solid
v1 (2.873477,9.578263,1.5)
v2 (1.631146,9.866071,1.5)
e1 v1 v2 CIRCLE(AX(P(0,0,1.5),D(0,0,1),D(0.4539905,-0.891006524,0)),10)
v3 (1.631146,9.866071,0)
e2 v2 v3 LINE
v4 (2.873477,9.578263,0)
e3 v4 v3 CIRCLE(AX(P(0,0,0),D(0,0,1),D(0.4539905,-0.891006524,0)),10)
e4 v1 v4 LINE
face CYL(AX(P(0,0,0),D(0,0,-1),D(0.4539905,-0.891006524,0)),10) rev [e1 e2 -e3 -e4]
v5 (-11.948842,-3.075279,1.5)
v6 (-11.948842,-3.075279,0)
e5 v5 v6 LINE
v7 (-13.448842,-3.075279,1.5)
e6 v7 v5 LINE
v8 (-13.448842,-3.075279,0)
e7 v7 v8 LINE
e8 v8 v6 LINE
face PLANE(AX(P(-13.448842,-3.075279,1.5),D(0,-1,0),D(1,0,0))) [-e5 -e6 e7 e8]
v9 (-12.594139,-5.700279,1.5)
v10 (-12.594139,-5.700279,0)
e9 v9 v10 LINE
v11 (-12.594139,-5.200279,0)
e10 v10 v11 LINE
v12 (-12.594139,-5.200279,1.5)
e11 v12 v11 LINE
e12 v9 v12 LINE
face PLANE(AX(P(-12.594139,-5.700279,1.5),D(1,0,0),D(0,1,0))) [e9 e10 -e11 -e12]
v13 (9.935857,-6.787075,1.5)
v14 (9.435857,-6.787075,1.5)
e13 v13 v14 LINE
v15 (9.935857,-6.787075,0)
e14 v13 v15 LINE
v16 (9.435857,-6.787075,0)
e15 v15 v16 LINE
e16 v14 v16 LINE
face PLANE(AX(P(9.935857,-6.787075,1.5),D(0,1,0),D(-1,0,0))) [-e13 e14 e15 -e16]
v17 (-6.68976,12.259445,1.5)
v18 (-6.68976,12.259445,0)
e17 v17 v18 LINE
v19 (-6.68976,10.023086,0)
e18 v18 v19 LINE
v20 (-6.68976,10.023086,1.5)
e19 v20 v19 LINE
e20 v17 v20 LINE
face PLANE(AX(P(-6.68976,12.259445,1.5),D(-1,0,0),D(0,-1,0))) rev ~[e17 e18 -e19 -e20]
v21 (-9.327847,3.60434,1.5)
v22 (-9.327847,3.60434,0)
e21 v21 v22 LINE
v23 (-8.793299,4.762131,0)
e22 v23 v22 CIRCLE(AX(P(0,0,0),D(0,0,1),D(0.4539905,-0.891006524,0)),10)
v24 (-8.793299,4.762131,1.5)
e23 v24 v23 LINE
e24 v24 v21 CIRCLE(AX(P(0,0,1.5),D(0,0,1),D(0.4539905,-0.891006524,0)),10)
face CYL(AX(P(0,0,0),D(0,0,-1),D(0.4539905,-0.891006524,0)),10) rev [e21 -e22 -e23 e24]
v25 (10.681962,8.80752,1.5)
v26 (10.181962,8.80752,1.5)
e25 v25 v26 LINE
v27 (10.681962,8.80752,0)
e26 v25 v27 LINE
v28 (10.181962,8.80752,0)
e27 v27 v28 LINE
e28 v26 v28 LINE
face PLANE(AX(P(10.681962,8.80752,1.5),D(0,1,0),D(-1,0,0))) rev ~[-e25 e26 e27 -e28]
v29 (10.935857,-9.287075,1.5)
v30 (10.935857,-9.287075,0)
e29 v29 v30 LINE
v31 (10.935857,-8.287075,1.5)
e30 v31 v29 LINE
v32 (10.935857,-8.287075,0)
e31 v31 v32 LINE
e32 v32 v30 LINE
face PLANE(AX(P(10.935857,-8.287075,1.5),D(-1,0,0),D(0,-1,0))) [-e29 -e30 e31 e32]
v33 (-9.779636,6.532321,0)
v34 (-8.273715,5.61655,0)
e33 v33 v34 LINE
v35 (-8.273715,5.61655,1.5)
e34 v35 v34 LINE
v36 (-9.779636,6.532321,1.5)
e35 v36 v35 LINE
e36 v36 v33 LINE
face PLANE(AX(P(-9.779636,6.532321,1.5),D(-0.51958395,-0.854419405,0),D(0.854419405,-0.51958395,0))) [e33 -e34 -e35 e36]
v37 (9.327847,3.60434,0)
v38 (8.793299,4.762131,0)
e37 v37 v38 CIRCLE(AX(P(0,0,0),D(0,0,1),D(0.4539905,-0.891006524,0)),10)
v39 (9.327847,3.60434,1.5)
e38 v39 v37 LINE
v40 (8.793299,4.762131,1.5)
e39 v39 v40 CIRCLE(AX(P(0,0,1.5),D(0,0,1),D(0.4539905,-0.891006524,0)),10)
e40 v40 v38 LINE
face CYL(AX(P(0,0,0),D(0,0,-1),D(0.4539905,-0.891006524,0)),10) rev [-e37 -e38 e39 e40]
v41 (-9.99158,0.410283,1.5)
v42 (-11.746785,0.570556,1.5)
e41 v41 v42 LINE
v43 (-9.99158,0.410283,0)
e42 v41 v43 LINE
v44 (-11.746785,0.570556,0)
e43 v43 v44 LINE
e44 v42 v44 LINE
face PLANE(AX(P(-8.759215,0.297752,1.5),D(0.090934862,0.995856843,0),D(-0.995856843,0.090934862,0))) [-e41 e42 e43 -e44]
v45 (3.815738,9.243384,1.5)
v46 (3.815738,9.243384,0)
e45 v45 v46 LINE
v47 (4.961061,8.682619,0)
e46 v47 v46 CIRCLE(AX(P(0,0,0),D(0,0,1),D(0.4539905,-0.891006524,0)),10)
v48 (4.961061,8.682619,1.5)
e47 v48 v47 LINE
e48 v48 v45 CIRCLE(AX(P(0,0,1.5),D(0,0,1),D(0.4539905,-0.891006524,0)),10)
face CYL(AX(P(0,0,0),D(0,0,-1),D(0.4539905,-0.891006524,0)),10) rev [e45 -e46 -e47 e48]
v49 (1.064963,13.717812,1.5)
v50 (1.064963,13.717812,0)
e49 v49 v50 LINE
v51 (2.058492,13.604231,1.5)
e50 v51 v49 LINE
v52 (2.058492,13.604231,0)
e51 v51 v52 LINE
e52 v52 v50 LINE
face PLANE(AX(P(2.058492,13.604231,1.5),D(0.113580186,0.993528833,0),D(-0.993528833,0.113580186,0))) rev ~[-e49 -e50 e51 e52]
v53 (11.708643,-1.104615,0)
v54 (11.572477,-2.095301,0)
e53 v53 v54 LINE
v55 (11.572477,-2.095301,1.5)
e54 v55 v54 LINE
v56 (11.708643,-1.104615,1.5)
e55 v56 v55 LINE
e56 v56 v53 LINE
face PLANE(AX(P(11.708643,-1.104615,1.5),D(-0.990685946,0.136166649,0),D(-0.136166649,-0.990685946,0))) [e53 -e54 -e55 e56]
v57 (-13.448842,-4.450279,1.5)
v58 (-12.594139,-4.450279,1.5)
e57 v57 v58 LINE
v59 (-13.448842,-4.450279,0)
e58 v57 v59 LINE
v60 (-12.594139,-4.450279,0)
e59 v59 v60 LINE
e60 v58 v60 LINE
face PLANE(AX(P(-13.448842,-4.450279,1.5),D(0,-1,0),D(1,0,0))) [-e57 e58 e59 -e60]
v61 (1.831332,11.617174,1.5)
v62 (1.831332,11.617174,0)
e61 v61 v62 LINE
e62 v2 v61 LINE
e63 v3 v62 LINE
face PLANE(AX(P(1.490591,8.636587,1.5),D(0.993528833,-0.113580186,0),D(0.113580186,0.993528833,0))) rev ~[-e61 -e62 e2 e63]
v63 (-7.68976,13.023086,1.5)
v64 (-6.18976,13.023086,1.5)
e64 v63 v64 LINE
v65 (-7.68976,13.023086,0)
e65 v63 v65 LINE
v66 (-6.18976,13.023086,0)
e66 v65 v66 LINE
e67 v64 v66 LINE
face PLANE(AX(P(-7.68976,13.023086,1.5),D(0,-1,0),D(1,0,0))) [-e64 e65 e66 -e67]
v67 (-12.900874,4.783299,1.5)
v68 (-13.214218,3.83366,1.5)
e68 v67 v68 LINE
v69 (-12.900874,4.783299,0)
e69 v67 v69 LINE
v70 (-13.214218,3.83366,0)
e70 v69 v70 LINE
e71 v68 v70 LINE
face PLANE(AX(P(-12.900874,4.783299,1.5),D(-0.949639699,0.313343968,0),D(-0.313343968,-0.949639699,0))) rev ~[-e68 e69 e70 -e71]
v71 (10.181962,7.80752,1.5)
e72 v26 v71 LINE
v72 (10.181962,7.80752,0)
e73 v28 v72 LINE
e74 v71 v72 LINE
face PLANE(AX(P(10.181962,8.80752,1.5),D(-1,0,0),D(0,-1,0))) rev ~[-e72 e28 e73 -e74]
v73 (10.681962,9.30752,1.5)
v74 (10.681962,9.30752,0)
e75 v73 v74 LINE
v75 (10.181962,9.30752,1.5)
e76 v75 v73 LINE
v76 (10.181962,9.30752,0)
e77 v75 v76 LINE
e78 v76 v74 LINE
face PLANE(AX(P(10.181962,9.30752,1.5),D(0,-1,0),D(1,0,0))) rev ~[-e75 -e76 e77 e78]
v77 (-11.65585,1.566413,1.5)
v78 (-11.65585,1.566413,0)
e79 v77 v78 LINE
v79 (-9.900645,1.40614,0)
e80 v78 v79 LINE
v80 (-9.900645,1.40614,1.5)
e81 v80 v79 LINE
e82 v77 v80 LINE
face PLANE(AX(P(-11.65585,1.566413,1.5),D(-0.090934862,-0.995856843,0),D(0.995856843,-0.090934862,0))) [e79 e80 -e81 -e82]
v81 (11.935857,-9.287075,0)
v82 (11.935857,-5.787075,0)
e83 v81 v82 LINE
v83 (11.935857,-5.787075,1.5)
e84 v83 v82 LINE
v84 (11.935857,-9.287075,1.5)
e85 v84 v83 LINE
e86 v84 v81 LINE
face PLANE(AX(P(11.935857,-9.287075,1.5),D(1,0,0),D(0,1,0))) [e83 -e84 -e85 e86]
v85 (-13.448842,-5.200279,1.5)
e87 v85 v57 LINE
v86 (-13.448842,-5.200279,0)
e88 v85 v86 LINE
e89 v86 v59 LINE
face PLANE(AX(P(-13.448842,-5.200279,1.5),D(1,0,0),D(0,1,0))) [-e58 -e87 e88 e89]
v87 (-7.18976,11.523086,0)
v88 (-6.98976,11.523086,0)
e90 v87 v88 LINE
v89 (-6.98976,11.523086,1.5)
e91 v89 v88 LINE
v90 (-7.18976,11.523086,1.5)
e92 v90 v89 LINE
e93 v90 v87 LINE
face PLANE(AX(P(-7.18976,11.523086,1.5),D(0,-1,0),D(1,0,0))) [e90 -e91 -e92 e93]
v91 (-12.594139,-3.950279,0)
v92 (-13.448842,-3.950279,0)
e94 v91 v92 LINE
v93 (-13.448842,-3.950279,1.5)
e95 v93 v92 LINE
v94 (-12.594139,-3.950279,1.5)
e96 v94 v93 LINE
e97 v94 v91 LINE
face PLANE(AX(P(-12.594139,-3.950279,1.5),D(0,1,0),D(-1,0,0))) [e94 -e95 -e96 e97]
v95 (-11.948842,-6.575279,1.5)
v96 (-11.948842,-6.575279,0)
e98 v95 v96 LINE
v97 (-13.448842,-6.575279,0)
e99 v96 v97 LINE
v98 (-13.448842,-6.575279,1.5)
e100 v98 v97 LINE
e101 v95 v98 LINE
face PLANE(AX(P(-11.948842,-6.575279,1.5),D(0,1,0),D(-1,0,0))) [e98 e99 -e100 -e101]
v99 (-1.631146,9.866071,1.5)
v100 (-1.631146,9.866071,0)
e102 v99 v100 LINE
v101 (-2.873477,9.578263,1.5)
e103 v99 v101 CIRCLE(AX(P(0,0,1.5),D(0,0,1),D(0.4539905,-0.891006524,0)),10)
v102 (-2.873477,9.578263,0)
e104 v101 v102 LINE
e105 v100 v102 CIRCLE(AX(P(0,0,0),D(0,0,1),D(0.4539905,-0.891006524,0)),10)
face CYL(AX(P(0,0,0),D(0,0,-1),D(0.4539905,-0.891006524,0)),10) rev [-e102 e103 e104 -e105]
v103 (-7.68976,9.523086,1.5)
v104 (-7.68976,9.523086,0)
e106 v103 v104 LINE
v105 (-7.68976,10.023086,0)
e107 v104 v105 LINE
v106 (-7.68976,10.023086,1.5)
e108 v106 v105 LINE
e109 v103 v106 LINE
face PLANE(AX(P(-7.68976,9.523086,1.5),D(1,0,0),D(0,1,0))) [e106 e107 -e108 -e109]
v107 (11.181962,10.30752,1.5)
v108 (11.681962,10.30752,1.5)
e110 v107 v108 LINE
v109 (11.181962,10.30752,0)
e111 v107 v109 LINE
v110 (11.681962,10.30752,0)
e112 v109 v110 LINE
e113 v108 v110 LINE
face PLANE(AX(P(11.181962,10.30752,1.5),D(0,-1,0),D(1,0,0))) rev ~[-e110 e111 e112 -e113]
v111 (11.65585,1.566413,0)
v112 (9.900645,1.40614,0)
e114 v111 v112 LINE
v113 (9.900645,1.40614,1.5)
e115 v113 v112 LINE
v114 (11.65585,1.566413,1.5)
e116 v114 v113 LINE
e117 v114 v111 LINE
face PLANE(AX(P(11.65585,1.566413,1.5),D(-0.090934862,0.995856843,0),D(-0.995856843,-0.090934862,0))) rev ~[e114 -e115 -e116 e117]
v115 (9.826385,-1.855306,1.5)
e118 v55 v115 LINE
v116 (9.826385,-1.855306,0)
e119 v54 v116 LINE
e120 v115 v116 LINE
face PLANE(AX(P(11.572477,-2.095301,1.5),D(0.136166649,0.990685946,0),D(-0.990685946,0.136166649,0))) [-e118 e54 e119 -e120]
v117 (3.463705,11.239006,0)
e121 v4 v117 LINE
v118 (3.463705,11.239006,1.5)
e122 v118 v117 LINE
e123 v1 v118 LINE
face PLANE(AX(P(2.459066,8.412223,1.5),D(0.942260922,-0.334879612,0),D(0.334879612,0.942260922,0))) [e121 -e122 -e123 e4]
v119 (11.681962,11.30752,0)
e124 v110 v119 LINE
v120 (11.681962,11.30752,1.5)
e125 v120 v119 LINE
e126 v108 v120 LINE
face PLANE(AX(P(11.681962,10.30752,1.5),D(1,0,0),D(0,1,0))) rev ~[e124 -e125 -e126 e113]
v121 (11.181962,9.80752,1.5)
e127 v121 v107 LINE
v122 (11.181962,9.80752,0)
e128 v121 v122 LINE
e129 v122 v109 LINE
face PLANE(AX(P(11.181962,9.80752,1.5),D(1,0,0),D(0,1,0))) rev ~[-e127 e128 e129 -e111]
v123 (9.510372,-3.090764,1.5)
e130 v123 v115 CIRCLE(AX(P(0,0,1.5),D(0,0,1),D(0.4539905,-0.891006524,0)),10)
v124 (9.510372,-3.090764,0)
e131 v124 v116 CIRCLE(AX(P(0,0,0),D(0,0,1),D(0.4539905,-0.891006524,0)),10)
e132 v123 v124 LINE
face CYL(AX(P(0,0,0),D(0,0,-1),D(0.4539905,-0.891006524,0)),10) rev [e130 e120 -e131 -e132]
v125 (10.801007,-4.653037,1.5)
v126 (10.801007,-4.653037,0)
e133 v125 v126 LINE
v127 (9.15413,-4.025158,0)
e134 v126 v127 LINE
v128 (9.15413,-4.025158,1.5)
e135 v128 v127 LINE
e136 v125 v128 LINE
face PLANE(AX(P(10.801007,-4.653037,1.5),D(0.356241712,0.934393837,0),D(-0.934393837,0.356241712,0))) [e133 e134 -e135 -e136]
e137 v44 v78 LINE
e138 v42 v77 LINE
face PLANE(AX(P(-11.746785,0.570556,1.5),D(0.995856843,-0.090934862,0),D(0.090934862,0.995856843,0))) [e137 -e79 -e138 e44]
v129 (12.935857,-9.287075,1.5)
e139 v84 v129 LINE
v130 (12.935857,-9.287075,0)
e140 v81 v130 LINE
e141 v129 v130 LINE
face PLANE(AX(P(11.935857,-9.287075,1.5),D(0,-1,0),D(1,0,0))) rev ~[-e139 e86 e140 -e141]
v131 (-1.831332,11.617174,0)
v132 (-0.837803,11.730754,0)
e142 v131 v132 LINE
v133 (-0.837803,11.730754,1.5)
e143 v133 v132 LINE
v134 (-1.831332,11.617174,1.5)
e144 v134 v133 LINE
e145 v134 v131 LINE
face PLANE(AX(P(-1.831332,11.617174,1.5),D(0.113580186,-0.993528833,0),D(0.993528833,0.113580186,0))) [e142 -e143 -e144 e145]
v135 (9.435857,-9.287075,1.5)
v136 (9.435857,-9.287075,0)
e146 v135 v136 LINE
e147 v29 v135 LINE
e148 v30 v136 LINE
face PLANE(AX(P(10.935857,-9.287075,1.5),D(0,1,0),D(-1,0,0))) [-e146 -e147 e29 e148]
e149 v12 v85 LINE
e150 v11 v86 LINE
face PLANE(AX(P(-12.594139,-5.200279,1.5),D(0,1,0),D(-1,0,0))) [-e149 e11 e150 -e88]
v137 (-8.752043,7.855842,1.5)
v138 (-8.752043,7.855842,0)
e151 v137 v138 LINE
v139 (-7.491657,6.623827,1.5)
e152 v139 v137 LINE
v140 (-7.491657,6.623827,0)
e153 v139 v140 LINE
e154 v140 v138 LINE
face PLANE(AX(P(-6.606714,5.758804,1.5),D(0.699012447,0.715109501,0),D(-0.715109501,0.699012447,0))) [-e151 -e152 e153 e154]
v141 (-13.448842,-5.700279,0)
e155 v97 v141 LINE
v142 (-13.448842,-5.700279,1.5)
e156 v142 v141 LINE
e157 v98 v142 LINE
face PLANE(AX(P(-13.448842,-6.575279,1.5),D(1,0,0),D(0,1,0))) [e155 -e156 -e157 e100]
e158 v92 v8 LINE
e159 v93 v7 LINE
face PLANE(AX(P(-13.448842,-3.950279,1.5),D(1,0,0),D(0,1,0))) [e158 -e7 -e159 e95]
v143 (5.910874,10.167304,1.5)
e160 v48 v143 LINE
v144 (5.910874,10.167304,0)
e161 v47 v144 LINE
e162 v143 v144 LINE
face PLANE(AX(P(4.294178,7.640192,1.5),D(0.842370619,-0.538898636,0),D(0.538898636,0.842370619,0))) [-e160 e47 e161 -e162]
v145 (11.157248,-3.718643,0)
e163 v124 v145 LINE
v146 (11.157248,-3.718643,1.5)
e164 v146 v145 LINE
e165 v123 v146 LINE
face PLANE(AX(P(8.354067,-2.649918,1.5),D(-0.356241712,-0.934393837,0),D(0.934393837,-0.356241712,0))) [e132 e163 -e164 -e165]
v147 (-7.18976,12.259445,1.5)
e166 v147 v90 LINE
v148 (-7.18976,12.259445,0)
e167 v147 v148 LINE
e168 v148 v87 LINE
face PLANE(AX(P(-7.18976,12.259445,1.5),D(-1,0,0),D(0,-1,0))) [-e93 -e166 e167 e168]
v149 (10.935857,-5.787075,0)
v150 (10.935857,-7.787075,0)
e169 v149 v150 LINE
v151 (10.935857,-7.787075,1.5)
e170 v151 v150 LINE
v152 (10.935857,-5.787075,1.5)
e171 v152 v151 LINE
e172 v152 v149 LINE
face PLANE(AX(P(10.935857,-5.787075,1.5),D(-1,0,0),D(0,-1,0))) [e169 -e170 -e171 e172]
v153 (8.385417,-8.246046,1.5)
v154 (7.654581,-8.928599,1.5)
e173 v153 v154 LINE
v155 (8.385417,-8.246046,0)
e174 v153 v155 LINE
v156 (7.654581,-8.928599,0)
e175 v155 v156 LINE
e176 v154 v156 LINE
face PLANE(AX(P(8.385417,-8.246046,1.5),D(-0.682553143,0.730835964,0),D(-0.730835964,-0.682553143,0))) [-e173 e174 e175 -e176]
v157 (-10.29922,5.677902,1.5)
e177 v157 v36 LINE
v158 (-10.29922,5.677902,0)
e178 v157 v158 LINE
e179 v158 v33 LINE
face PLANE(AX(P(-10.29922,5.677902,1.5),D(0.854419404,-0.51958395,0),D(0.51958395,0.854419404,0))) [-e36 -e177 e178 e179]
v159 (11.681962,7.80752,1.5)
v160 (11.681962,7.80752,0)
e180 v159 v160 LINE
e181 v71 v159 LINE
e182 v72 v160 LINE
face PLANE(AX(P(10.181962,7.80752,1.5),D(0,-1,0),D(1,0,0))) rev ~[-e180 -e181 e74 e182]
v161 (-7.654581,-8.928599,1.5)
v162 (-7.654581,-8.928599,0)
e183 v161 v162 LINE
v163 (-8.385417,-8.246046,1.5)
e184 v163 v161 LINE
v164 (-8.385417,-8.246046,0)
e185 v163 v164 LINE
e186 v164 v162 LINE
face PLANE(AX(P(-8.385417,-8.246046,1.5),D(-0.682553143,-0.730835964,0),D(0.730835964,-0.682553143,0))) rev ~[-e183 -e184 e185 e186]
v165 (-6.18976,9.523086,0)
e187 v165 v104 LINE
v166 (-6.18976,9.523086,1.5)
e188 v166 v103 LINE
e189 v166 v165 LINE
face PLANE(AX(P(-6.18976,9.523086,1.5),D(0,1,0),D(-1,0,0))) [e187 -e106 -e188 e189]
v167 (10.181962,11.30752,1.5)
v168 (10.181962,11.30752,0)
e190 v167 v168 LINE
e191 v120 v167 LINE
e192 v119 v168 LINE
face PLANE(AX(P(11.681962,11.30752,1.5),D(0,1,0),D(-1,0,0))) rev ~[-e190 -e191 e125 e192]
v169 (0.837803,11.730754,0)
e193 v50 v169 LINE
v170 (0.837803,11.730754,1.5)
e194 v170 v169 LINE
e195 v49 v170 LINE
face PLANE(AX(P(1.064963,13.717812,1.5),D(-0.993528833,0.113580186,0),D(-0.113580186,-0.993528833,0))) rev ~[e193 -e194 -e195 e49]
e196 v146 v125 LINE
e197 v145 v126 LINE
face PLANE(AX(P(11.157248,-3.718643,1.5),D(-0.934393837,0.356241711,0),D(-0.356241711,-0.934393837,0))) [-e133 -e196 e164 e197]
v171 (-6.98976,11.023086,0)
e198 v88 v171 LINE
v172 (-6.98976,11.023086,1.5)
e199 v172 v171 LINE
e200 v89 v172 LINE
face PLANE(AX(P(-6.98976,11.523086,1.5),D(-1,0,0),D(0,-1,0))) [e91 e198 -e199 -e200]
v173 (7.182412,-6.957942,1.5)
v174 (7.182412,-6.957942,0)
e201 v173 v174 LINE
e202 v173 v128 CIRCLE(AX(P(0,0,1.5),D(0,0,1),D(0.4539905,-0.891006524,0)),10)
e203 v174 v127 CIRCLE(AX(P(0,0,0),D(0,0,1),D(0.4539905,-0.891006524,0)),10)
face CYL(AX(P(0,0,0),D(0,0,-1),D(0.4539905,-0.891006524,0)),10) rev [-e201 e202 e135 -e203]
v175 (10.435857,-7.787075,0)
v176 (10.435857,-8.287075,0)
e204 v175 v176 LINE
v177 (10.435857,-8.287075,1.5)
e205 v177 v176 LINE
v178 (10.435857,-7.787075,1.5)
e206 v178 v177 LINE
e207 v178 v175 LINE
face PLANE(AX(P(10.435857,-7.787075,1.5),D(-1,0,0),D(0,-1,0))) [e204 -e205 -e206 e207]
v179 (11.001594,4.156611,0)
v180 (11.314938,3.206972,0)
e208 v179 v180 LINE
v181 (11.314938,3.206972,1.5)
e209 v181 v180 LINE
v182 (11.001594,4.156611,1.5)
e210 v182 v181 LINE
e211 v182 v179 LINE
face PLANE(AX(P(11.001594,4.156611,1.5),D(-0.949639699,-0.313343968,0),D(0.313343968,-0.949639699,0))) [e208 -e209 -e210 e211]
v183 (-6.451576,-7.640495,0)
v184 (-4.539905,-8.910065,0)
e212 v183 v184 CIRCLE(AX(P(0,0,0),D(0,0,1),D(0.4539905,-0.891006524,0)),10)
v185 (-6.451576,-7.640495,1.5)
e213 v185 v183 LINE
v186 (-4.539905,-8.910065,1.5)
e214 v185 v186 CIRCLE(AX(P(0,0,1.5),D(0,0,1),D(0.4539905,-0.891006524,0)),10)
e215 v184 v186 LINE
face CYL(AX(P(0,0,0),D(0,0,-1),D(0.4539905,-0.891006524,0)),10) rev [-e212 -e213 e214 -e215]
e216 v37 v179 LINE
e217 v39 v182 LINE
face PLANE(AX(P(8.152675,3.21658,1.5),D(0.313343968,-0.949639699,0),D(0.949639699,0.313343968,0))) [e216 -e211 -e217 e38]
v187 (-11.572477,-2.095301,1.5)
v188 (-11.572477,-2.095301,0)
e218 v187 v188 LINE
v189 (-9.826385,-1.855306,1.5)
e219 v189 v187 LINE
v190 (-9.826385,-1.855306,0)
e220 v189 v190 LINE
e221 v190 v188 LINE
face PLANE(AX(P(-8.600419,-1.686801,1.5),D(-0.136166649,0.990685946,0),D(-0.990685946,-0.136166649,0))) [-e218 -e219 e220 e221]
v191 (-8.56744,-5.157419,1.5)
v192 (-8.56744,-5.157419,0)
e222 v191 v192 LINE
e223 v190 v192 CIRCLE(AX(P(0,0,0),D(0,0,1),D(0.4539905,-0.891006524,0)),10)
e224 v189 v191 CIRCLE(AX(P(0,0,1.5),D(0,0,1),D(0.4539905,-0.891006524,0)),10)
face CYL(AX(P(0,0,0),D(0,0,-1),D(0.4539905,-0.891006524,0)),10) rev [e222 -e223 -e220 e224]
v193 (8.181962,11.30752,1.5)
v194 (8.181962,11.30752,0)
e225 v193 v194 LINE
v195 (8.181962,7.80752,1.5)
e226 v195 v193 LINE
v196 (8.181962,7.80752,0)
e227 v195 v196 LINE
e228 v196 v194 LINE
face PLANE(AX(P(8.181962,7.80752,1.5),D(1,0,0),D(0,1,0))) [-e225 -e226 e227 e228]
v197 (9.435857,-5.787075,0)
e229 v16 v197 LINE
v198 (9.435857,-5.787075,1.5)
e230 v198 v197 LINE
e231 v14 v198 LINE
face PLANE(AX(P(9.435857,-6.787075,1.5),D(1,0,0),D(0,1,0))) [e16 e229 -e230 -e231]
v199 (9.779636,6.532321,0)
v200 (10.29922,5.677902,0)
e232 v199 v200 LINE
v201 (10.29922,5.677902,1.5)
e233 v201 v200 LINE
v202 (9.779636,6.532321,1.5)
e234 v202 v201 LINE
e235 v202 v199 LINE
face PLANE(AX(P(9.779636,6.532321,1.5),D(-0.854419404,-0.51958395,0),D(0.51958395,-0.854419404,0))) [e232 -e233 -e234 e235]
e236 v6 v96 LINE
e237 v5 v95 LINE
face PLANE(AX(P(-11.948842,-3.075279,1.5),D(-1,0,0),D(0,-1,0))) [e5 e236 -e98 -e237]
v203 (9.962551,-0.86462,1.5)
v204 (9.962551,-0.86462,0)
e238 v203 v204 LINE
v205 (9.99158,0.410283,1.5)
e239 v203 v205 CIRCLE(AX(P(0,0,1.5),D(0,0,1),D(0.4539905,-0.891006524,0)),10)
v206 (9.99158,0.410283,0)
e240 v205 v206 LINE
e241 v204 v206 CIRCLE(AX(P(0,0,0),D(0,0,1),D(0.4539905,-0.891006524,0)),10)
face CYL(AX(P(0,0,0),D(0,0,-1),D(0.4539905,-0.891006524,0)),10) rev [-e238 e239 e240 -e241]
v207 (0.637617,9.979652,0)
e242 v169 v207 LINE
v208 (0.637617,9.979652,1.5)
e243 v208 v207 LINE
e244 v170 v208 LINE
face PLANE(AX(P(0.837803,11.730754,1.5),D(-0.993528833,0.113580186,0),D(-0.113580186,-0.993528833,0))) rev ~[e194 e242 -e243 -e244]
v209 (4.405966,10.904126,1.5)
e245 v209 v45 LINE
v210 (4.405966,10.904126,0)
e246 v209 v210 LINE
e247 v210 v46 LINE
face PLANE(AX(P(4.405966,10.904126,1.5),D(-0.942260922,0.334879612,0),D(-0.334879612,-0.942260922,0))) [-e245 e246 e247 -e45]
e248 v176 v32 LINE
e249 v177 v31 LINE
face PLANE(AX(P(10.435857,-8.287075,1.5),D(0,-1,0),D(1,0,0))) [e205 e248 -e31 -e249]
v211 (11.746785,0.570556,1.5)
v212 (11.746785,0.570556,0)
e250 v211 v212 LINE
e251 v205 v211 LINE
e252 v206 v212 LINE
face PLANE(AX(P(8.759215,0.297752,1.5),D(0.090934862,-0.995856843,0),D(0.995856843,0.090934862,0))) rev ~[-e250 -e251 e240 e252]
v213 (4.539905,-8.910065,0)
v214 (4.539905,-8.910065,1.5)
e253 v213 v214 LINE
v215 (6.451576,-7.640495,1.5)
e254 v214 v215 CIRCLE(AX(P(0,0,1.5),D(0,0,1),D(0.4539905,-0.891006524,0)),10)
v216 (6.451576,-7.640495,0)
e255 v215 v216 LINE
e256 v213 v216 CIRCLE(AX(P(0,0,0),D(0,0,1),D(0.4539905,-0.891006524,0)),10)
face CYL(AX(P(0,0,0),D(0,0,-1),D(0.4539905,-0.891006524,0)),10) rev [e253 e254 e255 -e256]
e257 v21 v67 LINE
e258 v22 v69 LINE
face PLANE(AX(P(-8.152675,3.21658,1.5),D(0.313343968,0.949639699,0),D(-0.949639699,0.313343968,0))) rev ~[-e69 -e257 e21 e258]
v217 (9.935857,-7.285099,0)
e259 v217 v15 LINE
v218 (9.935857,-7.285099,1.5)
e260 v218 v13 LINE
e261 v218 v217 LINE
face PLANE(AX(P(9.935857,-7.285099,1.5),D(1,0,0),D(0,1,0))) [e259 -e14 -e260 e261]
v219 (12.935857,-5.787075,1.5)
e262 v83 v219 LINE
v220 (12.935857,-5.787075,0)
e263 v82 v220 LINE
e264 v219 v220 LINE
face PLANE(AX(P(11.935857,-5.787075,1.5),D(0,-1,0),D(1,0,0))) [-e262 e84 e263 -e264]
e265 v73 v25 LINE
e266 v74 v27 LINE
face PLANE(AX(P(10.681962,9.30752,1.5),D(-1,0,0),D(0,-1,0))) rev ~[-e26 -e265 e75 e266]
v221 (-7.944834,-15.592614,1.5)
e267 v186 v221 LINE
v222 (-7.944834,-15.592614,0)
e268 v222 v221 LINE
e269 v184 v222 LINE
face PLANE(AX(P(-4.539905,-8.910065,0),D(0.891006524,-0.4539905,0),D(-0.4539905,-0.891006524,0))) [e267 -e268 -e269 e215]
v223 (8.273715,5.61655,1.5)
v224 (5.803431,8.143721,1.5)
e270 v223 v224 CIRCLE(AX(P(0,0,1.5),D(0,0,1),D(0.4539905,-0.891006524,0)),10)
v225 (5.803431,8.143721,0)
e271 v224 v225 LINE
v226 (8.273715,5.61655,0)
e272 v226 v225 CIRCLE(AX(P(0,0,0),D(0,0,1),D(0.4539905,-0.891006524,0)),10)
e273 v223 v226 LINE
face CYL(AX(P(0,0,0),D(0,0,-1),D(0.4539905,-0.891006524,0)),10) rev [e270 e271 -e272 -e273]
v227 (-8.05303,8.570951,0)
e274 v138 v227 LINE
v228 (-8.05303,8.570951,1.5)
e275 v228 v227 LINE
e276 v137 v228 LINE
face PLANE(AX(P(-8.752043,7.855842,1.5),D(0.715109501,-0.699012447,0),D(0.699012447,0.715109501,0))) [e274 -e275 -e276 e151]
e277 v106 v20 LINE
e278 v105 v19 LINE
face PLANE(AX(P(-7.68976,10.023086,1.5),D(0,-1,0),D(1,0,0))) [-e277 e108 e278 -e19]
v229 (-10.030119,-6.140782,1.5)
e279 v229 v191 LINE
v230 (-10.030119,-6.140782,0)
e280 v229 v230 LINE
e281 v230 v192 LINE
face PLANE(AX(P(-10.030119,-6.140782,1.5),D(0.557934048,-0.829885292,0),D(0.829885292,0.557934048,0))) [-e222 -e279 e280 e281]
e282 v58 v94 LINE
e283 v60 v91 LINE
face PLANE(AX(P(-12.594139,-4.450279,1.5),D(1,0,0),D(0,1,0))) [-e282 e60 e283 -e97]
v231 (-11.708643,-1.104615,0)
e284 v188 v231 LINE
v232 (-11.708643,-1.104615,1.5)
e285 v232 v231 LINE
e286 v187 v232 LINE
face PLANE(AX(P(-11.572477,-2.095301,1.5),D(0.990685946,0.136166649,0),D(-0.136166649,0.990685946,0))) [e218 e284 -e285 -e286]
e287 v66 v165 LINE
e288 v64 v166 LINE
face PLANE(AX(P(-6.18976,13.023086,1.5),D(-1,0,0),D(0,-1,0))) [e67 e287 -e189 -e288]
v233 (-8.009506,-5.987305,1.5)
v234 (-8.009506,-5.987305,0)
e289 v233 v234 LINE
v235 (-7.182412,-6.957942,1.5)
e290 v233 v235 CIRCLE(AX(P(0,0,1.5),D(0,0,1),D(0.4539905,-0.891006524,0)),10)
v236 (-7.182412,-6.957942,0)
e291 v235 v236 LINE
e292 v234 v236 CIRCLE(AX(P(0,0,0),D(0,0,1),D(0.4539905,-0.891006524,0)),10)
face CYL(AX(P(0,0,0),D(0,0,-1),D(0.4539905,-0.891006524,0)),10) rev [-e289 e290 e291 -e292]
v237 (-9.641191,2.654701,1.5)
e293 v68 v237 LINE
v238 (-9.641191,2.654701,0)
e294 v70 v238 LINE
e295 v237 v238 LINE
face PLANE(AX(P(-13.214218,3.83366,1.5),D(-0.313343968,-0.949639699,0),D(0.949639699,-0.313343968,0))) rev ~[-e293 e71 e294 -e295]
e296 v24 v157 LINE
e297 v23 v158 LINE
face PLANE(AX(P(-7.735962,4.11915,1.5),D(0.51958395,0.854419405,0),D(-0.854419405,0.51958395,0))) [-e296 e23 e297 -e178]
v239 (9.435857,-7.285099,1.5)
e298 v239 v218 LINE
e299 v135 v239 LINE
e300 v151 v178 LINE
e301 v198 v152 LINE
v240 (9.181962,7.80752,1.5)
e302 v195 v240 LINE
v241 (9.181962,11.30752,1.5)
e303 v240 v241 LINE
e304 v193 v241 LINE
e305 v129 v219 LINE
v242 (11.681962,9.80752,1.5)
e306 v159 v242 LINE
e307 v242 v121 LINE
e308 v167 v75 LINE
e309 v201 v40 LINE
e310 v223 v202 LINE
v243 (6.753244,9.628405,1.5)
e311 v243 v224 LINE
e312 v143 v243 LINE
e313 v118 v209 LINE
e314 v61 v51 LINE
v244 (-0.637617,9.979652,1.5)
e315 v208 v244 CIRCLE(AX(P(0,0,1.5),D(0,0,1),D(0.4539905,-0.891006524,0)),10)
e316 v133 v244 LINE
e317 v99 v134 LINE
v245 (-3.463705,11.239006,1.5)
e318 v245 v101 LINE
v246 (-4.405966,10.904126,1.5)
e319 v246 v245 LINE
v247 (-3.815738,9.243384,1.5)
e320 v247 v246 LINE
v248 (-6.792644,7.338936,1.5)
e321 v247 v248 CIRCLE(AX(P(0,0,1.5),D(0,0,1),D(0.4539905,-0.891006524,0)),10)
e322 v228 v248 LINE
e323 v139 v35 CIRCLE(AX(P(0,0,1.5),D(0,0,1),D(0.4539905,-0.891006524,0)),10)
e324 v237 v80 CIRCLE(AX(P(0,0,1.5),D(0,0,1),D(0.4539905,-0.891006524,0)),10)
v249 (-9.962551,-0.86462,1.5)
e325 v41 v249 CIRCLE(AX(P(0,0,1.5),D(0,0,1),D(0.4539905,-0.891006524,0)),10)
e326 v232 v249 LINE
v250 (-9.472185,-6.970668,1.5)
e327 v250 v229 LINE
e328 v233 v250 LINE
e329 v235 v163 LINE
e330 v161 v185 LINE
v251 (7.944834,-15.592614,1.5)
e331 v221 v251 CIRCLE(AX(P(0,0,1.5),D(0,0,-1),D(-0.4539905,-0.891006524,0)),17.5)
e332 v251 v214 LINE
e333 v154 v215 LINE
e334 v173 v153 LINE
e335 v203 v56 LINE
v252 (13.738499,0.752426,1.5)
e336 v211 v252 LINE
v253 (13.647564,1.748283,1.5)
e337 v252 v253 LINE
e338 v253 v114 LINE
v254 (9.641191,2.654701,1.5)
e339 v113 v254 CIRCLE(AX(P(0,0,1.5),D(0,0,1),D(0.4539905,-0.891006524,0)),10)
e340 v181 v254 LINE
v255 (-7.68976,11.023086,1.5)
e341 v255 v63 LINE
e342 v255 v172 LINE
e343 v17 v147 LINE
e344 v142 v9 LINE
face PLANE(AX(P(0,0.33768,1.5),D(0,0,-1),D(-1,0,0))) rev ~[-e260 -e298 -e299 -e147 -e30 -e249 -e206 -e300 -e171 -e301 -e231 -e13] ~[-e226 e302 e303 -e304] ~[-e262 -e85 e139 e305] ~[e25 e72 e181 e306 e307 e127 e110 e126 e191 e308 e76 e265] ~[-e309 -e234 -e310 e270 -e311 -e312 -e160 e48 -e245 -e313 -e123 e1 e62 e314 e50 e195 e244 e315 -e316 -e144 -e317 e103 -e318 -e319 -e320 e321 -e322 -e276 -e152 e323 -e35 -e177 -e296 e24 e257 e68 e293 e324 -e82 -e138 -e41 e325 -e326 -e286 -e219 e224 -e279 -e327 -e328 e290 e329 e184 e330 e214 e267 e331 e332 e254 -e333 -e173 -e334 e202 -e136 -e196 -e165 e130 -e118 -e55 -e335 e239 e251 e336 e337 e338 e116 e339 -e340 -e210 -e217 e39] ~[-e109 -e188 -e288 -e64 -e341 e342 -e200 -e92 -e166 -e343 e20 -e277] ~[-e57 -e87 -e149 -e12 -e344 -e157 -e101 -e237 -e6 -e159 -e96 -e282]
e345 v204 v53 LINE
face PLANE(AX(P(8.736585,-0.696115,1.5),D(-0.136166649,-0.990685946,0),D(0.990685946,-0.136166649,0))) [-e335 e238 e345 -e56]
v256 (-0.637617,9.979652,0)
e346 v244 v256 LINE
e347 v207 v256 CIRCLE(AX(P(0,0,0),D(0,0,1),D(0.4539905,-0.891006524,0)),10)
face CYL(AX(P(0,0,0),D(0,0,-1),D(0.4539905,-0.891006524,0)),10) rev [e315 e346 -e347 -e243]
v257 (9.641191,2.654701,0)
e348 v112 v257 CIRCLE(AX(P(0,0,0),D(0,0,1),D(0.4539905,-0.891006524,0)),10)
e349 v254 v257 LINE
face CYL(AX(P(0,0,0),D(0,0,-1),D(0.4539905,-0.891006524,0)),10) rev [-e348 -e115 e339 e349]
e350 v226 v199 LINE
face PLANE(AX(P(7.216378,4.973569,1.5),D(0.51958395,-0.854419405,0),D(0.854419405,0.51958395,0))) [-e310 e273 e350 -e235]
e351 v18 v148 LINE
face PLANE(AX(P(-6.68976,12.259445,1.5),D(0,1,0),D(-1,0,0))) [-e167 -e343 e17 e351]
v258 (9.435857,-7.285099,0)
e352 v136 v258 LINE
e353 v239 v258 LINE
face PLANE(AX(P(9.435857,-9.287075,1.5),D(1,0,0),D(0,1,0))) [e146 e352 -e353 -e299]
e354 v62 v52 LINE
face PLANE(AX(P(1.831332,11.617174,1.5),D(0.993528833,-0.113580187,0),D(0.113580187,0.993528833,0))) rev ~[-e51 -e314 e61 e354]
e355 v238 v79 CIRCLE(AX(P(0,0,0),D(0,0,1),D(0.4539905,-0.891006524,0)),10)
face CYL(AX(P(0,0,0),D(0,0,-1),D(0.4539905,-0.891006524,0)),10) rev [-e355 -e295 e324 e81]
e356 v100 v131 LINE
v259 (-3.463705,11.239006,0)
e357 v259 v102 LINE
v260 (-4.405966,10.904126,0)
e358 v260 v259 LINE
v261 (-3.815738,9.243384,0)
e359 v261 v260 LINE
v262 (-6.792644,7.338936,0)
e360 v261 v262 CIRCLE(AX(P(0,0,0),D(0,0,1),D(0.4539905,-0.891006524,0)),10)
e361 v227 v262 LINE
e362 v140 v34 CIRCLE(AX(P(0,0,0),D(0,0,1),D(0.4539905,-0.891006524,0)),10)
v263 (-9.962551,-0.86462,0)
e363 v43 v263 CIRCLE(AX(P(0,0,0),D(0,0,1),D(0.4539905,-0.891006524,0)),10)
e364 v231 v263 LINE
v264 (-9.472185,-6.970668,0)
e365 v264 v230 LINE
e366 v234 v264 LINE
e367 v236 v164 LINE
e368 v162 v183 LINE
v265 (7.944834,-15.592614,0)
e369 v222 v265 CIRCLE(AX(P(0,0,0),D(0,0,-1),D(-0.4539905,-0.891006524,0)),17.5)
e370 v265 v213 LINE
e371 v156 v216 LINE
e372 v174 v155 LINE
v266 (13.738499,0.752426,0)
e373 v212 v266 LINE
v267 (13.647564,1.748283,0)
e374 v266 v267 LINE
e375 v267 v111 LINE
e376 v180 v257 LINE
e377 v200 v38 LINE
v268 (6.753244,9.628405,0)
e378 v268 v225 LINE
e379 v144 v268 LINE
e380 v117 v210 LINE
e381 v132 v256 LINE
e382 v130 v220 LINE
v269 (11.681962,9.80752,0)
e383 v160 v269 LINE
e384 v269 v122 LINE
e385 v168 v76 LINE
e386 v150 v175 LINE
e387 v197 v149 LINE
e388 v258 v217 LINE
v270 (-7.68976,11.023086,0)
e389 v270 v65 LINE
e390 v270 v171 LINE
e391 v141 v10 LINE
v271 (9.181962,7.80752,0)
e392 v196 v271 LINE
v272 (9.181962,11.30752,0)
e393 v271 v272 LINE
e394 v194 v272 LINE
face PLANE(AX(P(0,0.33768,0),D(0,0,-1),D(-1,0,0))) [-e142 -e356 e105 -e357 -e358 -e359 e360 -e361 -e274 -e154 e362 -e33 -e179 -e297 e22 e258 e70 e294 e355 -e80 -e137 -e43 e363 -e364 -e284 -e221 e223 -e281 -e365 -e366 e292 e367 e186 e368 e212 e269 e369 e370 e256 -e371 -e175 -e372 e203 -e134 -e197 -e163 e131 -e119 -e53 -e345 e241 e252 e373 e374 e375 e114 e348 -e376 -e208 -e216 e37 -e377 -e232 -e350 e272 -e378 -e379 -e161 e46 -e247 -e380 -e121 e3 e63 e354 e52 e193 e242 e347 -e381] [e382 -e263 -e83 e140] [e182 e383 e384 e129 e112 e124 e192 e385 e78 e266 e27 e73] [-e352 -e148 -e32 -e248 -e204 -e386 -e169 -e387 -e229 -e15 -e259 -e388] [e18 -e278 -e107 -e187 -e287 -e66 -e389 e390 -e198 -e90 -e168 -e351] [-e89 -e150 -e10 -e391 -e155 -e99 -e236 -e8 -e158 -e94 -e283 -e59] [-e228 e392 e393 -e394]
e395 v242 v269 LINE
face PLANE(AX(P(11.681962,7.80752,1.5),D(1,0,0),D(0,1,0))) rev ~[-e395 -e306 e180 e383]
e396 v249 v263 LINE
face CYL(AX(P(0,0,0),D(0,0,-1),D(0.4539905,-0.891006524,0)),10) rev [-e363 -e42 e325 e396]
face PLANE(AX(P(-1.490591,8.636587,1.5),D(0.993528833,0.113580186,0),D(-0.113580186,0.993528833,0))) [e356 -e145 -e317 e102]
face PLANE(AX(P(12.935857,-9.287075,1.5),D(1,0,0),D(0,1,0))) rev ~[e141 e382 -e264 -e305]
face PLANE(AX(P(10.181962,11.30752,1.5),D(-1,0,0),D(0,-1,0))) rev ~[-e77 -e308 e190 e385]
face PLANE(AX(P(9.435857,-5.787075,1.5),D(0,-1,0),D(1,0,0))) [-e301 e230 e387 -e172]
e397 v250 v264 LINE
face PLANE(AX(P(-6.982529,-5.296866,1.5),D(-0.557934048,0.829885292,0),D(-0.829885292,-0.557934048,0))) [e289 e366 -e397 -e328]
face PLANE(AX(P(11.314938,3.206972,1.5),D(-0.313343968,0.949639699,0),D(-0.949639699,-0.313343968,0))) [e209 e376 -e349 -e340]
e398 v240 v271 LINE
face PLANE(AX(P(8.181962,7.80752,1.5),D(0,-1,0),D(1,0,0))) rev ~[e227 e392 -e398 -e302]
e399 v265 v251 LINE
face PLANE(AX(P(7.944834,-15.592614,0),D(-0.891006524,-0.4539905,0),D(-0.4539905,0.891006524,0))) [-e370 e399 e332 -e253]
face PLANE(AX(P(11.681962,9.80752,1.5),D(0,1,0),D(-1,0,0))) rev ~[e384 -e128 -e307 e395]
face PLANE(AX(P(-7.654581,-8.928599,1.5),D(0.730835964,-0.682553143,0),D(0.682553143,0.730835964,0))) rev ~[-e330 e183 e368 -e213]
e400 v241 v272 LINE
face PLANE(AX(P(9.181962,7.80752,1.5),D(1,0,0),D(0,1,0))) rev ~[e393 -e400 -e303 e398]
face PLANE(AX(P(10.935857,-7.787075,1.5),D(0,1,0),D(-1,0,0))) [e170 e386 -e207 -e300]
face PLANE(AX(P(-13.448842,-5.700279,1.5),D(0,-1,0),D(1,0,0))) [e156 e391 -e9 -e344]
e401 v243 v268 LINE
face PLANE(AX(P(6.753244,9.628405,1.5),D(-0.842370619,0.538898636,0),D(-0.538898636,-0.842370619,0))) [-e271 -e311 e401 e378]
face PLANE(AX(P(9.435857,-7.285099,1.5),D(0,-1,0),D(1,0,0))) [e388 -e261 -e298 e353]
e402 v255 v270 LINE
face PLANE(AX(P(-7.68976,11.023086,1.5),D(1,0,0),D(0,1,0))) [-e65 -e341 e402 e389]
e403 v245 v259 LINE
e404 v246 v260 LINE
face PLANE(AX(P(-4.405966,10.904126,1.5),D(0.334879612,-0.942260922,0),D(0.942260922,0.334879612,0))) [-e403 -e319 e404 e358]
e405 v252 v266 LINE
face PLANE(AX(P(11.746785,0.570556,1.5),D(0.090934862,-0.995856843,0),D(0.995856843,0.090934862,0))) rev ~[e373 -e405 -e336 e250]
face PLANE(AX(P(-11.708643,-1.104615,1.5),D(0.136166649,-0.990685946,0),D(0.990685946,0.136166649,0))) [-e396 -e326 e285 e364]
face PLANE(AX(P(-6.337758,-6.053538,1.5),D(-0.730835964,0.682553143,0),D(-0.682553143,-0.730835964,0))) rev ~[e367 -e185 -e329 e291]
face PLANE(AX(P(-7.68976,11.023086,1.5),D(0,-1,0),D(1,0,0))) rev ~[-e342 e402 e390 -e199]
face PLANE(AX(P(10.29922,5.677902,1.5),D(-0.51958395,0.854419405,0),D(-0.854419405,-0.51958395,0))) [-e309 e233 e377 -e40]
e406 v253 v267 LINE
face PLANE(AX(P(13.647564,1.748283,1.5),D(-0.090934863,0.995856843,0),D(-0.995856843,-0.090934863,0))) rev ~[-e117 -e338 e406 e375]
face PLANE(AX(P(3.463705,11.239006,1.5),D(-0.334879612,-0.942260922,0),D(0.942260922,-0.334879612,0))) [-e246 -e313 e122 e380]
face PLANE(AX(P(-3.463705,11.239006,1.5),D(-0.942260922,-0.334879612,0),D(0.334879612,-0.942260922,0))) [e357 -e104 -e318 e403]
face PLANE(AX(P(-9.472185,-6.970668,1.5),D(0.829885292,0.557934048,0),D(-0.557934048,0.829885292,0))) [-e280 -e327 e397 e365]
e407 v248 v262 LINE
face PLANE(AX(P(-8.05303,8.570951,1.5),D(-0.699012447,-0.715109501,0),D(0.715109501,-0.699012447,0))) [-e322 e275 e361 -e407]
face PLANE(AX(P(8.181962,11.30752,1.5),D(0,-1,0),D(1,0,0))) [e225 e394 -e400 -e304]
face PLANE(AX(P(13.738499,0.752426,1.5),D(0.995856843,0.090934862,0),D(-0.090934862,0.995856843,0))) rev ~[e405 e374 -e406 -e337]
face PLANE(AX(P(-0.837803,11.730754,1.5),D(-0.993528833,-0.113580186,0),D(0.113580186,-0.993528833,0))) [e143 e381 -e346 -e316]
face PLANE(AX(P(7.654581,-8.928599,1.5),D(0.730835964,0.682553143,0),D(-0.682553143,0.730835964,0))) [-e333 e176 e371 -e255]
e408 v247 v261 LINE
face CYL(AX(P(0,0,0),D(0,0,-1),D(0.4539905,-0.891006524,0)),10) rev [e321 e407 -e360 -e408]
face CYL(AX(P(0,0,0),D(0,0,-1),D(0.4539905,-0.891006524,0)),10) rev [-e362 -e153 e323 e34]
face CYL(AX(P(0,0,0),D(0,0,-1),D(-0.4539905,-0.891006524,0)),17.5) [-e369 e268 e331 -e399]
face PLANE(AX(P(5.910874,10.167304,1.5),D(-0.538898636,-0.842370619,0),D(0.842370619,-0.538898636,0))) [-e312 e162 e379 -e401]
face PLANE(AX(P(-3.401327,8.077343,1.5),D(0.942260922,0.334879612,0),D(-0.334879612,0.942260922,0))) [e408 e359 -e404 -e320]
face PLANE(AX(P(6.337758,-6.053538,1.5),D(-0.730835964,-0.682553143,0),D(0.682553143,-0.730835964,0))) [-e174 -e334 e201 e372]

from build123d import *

# Parameters (mm, degrees)
BOSS_EXTRUDE1_DEPTH = 1.5
SKETCH3_W           = 1
SKETCH3_H           = 3.5
CUT_EXTRUDE2_DEPTH  = 1.5


with BuildPart() as part:
    # Sketch1 → Boss-Extrude1 (new body)
    with BuildSketch(Plane.XY):
        with BuildLine():
            Line((-4.539904997, -8.910065242), (-7.944833745, -15.592614173))
            ThreePointArc((-7.944833745, -15.592614173), (0, 17.5), (7.944833745, -15.592614173))
            Line((7.944833745, -15.592614173), (4.539904997, -8.910065242))
            ThreePointArc((4.539904997, -8.910065242), (0, 10), (-4.539904997, -8.910065242))
        make_face()
    extrude(amount=BOSS_EXTRUDE1_DEPTH)

    # Sketch3 → Cut-Extrude2 (cut)
    with BuildSketch(Plane.XY.offset(1.5)):
        Polygon((-13.448841764, -3.075278615), (-11.948841764, -3.075278615), (-11.948841764, -6.575278615), (-13.448841764, -6.575278615), (-13.448841764, -5.700278615), (-12.594138864, -5.700278615), (-12.594138864, -5.200278615), (-13.448841764, -5.200278615), (-13.448841764, -4.450278615), (-12.594138864, -4.450278615), (-12.594138864, -3.950278615), (-13.448841764, -3.950278615), align=None)
        Polygon((-6.189760479, 13.023085903), (-6.189760479, 9.523085903), (-7.689760479, 9.523085903), (-7.689760479, 10.023085903), (-6.689760479, 10.023085903), (-6.689760479, 10.523085903), (-6.689760479, 12.259445402), (-7.189760479, 12.259445402), (-7.189760479, 11.523085903), (-6.989760479, 11.523085903), (-6.989760479, 11.023085903), (-7.189760479, 11.023085903), (-7.689760479, 11.023085903), (-7.689760479, 13.023085903), align=None)
        with Locations((8.681961549, 9.557519934)):
            Rectangle(SKETCH3_W, SKETCH3_H)
        Polygon((10.181961549, 11.307519934), (10.181961549, 9.307519934), (10.681961549, 9.307519934), (10.681961549, 8.807519934), (10.181961549, 8.807519934), (10.181961549, 7.807519934), (11.681961549, 7.807519934), (11.681961549, 9.807519934), (11.181961549, 9.807519934), (11.181961549, 10.307519934), (11.681961549, 10.307519934), (11.681961549, 11.307519934), align=None)
        with Locations((12.435856983, -7.53707486)):
            Rectangle(SKETCH3_W, SKETCH3_H)
        Polygon((9.435856983, -5.78707486), (10.935856983, -5.78707486), (10.935856983, -7.78707486), (10.435856983, -7.78707486), (10.435856983, -8.28707486), (10.935856983, -8.28707486), (10.935856983, -9.28707486), (9.435856983, -9.28707486), (9.435856983, -7.285099387), (9.935856983, -7.285099387), (9.935856983, -6.78707486), (9.435856983, -6.78707486), align=None)
        Polygon((-9.472185157, -6.970667712), (-10.030119205, -6.14078242), (-7.540463329, -4.466980276), (-6.982529281, -5.296865568), align=None)
        Polygon((-5.606922021, -6.736091259), (-6.337757985, -6.053538116), (-8.385417415, -8.246046009), (-7.654581451, -8.928599152), align=None)
        Polygon((-11.001594478, 4.156611473), (-12.900873876, 4.783299409), (-13.214217844, 3.83365971), (-11.314938446, 3.206971774), (-8.466019349, 2.26693987), (-8.152675381, 3.216579569), align=None)
        Polygon((1.831331602, 11.617173691), (2.058491975, 13.604231356), (1.064963142, 13.717811542), (0.83780277, 11.730753877), (0.497062212, 8.750167379), (1.490591044, 8.636587193), align=None)
        Polygon((-11.572476541, -2.0953011), (-11.70864319, -1.104615154), (-8.736585352, -0.696115207), (-8.600418703, -1.686801153), align=None)
        Polygon((-11.746785331, 0.570556211), (-11.655850469, 1.566413053), (-8.668279941, 1.293608466), (-8.759214803, 0.297751624), align=None)
        Polygon((-10.299219978, 5.677901711), (-9.779636028, 6.532321115), (-7.216377815, 4.973569265), (-7.735961765, 4.119149861), align=None)
        Polygon((-8.752042864, 7.855841502), (-8.053030417, 8.570951003), (-5.907701913, 6.473913662), (-6.60671436, 5.758804161), align=None)
        Polygon((11.746785331, 0.570556211), (13.738499016, 0.752425935), (13.647564154, 1.748282778), (11.655850469, 1.566413053), (8.668279941, 1.293608466), (8.759214803, 0.297751624), align=None)
        Polygon((-4.405965904, 10.904126029), (-3.463704982, 11.239005641), (-2.459066145, 8.412222875), (-3.401327068, 8.077343262), align=None)
        Polygon((-1.831331602, 11.617173691), (-0.83780277, 11.730753877), (-0.497062212, 8.750167379), (-1.490591044, 8.636587193), align=None)
        Polygon((3.463704982, 11.239005641), (4.405965904, 10.904126029), (3.401327068, 8.077343262), (2.459066145, 8.412222875), align=None)
        Polygon((5.910873662, 10.167304094), (6.753244282, 9.628405458), (5.136548374, 7.101293601), (4.294177755, 7.640192237), align=None)
        Polygon((9.779636028, 6.532321115), (10.299219978, 5.677901711), (7.735961765, 4.119149861), (7.216377815, 4.973569265), align=None)
        Polygon((11.001594478, 4.156611473), (11.314938446, 3.206971774), (8.466019349, 2.26693987), (8.152675381, 3.216579569), align=None)
        Polygon((11.70864319, -1.104615154), (11.572476541, -2.0953011), (8.600418703, -1.686801153), (8.736585352, -0.696115207), align=None)
        Polygon((11.157248442, -3.718643193), (10.801006731, -4.65303703), (7.997825219, -3.584311895), (8.354066931, -2.649918058), align=None)
        Polygon((8.385417415, -8.246046009), (7.654581451, -8.928599152), (5.606922021, -6.736091259), (6.337757985, -6.053538116), align=None)
    extrude(amount=-CUT_EXTRUDE2_DEPTH, mode=Mode.SUBTRACT)


solid = part.part
